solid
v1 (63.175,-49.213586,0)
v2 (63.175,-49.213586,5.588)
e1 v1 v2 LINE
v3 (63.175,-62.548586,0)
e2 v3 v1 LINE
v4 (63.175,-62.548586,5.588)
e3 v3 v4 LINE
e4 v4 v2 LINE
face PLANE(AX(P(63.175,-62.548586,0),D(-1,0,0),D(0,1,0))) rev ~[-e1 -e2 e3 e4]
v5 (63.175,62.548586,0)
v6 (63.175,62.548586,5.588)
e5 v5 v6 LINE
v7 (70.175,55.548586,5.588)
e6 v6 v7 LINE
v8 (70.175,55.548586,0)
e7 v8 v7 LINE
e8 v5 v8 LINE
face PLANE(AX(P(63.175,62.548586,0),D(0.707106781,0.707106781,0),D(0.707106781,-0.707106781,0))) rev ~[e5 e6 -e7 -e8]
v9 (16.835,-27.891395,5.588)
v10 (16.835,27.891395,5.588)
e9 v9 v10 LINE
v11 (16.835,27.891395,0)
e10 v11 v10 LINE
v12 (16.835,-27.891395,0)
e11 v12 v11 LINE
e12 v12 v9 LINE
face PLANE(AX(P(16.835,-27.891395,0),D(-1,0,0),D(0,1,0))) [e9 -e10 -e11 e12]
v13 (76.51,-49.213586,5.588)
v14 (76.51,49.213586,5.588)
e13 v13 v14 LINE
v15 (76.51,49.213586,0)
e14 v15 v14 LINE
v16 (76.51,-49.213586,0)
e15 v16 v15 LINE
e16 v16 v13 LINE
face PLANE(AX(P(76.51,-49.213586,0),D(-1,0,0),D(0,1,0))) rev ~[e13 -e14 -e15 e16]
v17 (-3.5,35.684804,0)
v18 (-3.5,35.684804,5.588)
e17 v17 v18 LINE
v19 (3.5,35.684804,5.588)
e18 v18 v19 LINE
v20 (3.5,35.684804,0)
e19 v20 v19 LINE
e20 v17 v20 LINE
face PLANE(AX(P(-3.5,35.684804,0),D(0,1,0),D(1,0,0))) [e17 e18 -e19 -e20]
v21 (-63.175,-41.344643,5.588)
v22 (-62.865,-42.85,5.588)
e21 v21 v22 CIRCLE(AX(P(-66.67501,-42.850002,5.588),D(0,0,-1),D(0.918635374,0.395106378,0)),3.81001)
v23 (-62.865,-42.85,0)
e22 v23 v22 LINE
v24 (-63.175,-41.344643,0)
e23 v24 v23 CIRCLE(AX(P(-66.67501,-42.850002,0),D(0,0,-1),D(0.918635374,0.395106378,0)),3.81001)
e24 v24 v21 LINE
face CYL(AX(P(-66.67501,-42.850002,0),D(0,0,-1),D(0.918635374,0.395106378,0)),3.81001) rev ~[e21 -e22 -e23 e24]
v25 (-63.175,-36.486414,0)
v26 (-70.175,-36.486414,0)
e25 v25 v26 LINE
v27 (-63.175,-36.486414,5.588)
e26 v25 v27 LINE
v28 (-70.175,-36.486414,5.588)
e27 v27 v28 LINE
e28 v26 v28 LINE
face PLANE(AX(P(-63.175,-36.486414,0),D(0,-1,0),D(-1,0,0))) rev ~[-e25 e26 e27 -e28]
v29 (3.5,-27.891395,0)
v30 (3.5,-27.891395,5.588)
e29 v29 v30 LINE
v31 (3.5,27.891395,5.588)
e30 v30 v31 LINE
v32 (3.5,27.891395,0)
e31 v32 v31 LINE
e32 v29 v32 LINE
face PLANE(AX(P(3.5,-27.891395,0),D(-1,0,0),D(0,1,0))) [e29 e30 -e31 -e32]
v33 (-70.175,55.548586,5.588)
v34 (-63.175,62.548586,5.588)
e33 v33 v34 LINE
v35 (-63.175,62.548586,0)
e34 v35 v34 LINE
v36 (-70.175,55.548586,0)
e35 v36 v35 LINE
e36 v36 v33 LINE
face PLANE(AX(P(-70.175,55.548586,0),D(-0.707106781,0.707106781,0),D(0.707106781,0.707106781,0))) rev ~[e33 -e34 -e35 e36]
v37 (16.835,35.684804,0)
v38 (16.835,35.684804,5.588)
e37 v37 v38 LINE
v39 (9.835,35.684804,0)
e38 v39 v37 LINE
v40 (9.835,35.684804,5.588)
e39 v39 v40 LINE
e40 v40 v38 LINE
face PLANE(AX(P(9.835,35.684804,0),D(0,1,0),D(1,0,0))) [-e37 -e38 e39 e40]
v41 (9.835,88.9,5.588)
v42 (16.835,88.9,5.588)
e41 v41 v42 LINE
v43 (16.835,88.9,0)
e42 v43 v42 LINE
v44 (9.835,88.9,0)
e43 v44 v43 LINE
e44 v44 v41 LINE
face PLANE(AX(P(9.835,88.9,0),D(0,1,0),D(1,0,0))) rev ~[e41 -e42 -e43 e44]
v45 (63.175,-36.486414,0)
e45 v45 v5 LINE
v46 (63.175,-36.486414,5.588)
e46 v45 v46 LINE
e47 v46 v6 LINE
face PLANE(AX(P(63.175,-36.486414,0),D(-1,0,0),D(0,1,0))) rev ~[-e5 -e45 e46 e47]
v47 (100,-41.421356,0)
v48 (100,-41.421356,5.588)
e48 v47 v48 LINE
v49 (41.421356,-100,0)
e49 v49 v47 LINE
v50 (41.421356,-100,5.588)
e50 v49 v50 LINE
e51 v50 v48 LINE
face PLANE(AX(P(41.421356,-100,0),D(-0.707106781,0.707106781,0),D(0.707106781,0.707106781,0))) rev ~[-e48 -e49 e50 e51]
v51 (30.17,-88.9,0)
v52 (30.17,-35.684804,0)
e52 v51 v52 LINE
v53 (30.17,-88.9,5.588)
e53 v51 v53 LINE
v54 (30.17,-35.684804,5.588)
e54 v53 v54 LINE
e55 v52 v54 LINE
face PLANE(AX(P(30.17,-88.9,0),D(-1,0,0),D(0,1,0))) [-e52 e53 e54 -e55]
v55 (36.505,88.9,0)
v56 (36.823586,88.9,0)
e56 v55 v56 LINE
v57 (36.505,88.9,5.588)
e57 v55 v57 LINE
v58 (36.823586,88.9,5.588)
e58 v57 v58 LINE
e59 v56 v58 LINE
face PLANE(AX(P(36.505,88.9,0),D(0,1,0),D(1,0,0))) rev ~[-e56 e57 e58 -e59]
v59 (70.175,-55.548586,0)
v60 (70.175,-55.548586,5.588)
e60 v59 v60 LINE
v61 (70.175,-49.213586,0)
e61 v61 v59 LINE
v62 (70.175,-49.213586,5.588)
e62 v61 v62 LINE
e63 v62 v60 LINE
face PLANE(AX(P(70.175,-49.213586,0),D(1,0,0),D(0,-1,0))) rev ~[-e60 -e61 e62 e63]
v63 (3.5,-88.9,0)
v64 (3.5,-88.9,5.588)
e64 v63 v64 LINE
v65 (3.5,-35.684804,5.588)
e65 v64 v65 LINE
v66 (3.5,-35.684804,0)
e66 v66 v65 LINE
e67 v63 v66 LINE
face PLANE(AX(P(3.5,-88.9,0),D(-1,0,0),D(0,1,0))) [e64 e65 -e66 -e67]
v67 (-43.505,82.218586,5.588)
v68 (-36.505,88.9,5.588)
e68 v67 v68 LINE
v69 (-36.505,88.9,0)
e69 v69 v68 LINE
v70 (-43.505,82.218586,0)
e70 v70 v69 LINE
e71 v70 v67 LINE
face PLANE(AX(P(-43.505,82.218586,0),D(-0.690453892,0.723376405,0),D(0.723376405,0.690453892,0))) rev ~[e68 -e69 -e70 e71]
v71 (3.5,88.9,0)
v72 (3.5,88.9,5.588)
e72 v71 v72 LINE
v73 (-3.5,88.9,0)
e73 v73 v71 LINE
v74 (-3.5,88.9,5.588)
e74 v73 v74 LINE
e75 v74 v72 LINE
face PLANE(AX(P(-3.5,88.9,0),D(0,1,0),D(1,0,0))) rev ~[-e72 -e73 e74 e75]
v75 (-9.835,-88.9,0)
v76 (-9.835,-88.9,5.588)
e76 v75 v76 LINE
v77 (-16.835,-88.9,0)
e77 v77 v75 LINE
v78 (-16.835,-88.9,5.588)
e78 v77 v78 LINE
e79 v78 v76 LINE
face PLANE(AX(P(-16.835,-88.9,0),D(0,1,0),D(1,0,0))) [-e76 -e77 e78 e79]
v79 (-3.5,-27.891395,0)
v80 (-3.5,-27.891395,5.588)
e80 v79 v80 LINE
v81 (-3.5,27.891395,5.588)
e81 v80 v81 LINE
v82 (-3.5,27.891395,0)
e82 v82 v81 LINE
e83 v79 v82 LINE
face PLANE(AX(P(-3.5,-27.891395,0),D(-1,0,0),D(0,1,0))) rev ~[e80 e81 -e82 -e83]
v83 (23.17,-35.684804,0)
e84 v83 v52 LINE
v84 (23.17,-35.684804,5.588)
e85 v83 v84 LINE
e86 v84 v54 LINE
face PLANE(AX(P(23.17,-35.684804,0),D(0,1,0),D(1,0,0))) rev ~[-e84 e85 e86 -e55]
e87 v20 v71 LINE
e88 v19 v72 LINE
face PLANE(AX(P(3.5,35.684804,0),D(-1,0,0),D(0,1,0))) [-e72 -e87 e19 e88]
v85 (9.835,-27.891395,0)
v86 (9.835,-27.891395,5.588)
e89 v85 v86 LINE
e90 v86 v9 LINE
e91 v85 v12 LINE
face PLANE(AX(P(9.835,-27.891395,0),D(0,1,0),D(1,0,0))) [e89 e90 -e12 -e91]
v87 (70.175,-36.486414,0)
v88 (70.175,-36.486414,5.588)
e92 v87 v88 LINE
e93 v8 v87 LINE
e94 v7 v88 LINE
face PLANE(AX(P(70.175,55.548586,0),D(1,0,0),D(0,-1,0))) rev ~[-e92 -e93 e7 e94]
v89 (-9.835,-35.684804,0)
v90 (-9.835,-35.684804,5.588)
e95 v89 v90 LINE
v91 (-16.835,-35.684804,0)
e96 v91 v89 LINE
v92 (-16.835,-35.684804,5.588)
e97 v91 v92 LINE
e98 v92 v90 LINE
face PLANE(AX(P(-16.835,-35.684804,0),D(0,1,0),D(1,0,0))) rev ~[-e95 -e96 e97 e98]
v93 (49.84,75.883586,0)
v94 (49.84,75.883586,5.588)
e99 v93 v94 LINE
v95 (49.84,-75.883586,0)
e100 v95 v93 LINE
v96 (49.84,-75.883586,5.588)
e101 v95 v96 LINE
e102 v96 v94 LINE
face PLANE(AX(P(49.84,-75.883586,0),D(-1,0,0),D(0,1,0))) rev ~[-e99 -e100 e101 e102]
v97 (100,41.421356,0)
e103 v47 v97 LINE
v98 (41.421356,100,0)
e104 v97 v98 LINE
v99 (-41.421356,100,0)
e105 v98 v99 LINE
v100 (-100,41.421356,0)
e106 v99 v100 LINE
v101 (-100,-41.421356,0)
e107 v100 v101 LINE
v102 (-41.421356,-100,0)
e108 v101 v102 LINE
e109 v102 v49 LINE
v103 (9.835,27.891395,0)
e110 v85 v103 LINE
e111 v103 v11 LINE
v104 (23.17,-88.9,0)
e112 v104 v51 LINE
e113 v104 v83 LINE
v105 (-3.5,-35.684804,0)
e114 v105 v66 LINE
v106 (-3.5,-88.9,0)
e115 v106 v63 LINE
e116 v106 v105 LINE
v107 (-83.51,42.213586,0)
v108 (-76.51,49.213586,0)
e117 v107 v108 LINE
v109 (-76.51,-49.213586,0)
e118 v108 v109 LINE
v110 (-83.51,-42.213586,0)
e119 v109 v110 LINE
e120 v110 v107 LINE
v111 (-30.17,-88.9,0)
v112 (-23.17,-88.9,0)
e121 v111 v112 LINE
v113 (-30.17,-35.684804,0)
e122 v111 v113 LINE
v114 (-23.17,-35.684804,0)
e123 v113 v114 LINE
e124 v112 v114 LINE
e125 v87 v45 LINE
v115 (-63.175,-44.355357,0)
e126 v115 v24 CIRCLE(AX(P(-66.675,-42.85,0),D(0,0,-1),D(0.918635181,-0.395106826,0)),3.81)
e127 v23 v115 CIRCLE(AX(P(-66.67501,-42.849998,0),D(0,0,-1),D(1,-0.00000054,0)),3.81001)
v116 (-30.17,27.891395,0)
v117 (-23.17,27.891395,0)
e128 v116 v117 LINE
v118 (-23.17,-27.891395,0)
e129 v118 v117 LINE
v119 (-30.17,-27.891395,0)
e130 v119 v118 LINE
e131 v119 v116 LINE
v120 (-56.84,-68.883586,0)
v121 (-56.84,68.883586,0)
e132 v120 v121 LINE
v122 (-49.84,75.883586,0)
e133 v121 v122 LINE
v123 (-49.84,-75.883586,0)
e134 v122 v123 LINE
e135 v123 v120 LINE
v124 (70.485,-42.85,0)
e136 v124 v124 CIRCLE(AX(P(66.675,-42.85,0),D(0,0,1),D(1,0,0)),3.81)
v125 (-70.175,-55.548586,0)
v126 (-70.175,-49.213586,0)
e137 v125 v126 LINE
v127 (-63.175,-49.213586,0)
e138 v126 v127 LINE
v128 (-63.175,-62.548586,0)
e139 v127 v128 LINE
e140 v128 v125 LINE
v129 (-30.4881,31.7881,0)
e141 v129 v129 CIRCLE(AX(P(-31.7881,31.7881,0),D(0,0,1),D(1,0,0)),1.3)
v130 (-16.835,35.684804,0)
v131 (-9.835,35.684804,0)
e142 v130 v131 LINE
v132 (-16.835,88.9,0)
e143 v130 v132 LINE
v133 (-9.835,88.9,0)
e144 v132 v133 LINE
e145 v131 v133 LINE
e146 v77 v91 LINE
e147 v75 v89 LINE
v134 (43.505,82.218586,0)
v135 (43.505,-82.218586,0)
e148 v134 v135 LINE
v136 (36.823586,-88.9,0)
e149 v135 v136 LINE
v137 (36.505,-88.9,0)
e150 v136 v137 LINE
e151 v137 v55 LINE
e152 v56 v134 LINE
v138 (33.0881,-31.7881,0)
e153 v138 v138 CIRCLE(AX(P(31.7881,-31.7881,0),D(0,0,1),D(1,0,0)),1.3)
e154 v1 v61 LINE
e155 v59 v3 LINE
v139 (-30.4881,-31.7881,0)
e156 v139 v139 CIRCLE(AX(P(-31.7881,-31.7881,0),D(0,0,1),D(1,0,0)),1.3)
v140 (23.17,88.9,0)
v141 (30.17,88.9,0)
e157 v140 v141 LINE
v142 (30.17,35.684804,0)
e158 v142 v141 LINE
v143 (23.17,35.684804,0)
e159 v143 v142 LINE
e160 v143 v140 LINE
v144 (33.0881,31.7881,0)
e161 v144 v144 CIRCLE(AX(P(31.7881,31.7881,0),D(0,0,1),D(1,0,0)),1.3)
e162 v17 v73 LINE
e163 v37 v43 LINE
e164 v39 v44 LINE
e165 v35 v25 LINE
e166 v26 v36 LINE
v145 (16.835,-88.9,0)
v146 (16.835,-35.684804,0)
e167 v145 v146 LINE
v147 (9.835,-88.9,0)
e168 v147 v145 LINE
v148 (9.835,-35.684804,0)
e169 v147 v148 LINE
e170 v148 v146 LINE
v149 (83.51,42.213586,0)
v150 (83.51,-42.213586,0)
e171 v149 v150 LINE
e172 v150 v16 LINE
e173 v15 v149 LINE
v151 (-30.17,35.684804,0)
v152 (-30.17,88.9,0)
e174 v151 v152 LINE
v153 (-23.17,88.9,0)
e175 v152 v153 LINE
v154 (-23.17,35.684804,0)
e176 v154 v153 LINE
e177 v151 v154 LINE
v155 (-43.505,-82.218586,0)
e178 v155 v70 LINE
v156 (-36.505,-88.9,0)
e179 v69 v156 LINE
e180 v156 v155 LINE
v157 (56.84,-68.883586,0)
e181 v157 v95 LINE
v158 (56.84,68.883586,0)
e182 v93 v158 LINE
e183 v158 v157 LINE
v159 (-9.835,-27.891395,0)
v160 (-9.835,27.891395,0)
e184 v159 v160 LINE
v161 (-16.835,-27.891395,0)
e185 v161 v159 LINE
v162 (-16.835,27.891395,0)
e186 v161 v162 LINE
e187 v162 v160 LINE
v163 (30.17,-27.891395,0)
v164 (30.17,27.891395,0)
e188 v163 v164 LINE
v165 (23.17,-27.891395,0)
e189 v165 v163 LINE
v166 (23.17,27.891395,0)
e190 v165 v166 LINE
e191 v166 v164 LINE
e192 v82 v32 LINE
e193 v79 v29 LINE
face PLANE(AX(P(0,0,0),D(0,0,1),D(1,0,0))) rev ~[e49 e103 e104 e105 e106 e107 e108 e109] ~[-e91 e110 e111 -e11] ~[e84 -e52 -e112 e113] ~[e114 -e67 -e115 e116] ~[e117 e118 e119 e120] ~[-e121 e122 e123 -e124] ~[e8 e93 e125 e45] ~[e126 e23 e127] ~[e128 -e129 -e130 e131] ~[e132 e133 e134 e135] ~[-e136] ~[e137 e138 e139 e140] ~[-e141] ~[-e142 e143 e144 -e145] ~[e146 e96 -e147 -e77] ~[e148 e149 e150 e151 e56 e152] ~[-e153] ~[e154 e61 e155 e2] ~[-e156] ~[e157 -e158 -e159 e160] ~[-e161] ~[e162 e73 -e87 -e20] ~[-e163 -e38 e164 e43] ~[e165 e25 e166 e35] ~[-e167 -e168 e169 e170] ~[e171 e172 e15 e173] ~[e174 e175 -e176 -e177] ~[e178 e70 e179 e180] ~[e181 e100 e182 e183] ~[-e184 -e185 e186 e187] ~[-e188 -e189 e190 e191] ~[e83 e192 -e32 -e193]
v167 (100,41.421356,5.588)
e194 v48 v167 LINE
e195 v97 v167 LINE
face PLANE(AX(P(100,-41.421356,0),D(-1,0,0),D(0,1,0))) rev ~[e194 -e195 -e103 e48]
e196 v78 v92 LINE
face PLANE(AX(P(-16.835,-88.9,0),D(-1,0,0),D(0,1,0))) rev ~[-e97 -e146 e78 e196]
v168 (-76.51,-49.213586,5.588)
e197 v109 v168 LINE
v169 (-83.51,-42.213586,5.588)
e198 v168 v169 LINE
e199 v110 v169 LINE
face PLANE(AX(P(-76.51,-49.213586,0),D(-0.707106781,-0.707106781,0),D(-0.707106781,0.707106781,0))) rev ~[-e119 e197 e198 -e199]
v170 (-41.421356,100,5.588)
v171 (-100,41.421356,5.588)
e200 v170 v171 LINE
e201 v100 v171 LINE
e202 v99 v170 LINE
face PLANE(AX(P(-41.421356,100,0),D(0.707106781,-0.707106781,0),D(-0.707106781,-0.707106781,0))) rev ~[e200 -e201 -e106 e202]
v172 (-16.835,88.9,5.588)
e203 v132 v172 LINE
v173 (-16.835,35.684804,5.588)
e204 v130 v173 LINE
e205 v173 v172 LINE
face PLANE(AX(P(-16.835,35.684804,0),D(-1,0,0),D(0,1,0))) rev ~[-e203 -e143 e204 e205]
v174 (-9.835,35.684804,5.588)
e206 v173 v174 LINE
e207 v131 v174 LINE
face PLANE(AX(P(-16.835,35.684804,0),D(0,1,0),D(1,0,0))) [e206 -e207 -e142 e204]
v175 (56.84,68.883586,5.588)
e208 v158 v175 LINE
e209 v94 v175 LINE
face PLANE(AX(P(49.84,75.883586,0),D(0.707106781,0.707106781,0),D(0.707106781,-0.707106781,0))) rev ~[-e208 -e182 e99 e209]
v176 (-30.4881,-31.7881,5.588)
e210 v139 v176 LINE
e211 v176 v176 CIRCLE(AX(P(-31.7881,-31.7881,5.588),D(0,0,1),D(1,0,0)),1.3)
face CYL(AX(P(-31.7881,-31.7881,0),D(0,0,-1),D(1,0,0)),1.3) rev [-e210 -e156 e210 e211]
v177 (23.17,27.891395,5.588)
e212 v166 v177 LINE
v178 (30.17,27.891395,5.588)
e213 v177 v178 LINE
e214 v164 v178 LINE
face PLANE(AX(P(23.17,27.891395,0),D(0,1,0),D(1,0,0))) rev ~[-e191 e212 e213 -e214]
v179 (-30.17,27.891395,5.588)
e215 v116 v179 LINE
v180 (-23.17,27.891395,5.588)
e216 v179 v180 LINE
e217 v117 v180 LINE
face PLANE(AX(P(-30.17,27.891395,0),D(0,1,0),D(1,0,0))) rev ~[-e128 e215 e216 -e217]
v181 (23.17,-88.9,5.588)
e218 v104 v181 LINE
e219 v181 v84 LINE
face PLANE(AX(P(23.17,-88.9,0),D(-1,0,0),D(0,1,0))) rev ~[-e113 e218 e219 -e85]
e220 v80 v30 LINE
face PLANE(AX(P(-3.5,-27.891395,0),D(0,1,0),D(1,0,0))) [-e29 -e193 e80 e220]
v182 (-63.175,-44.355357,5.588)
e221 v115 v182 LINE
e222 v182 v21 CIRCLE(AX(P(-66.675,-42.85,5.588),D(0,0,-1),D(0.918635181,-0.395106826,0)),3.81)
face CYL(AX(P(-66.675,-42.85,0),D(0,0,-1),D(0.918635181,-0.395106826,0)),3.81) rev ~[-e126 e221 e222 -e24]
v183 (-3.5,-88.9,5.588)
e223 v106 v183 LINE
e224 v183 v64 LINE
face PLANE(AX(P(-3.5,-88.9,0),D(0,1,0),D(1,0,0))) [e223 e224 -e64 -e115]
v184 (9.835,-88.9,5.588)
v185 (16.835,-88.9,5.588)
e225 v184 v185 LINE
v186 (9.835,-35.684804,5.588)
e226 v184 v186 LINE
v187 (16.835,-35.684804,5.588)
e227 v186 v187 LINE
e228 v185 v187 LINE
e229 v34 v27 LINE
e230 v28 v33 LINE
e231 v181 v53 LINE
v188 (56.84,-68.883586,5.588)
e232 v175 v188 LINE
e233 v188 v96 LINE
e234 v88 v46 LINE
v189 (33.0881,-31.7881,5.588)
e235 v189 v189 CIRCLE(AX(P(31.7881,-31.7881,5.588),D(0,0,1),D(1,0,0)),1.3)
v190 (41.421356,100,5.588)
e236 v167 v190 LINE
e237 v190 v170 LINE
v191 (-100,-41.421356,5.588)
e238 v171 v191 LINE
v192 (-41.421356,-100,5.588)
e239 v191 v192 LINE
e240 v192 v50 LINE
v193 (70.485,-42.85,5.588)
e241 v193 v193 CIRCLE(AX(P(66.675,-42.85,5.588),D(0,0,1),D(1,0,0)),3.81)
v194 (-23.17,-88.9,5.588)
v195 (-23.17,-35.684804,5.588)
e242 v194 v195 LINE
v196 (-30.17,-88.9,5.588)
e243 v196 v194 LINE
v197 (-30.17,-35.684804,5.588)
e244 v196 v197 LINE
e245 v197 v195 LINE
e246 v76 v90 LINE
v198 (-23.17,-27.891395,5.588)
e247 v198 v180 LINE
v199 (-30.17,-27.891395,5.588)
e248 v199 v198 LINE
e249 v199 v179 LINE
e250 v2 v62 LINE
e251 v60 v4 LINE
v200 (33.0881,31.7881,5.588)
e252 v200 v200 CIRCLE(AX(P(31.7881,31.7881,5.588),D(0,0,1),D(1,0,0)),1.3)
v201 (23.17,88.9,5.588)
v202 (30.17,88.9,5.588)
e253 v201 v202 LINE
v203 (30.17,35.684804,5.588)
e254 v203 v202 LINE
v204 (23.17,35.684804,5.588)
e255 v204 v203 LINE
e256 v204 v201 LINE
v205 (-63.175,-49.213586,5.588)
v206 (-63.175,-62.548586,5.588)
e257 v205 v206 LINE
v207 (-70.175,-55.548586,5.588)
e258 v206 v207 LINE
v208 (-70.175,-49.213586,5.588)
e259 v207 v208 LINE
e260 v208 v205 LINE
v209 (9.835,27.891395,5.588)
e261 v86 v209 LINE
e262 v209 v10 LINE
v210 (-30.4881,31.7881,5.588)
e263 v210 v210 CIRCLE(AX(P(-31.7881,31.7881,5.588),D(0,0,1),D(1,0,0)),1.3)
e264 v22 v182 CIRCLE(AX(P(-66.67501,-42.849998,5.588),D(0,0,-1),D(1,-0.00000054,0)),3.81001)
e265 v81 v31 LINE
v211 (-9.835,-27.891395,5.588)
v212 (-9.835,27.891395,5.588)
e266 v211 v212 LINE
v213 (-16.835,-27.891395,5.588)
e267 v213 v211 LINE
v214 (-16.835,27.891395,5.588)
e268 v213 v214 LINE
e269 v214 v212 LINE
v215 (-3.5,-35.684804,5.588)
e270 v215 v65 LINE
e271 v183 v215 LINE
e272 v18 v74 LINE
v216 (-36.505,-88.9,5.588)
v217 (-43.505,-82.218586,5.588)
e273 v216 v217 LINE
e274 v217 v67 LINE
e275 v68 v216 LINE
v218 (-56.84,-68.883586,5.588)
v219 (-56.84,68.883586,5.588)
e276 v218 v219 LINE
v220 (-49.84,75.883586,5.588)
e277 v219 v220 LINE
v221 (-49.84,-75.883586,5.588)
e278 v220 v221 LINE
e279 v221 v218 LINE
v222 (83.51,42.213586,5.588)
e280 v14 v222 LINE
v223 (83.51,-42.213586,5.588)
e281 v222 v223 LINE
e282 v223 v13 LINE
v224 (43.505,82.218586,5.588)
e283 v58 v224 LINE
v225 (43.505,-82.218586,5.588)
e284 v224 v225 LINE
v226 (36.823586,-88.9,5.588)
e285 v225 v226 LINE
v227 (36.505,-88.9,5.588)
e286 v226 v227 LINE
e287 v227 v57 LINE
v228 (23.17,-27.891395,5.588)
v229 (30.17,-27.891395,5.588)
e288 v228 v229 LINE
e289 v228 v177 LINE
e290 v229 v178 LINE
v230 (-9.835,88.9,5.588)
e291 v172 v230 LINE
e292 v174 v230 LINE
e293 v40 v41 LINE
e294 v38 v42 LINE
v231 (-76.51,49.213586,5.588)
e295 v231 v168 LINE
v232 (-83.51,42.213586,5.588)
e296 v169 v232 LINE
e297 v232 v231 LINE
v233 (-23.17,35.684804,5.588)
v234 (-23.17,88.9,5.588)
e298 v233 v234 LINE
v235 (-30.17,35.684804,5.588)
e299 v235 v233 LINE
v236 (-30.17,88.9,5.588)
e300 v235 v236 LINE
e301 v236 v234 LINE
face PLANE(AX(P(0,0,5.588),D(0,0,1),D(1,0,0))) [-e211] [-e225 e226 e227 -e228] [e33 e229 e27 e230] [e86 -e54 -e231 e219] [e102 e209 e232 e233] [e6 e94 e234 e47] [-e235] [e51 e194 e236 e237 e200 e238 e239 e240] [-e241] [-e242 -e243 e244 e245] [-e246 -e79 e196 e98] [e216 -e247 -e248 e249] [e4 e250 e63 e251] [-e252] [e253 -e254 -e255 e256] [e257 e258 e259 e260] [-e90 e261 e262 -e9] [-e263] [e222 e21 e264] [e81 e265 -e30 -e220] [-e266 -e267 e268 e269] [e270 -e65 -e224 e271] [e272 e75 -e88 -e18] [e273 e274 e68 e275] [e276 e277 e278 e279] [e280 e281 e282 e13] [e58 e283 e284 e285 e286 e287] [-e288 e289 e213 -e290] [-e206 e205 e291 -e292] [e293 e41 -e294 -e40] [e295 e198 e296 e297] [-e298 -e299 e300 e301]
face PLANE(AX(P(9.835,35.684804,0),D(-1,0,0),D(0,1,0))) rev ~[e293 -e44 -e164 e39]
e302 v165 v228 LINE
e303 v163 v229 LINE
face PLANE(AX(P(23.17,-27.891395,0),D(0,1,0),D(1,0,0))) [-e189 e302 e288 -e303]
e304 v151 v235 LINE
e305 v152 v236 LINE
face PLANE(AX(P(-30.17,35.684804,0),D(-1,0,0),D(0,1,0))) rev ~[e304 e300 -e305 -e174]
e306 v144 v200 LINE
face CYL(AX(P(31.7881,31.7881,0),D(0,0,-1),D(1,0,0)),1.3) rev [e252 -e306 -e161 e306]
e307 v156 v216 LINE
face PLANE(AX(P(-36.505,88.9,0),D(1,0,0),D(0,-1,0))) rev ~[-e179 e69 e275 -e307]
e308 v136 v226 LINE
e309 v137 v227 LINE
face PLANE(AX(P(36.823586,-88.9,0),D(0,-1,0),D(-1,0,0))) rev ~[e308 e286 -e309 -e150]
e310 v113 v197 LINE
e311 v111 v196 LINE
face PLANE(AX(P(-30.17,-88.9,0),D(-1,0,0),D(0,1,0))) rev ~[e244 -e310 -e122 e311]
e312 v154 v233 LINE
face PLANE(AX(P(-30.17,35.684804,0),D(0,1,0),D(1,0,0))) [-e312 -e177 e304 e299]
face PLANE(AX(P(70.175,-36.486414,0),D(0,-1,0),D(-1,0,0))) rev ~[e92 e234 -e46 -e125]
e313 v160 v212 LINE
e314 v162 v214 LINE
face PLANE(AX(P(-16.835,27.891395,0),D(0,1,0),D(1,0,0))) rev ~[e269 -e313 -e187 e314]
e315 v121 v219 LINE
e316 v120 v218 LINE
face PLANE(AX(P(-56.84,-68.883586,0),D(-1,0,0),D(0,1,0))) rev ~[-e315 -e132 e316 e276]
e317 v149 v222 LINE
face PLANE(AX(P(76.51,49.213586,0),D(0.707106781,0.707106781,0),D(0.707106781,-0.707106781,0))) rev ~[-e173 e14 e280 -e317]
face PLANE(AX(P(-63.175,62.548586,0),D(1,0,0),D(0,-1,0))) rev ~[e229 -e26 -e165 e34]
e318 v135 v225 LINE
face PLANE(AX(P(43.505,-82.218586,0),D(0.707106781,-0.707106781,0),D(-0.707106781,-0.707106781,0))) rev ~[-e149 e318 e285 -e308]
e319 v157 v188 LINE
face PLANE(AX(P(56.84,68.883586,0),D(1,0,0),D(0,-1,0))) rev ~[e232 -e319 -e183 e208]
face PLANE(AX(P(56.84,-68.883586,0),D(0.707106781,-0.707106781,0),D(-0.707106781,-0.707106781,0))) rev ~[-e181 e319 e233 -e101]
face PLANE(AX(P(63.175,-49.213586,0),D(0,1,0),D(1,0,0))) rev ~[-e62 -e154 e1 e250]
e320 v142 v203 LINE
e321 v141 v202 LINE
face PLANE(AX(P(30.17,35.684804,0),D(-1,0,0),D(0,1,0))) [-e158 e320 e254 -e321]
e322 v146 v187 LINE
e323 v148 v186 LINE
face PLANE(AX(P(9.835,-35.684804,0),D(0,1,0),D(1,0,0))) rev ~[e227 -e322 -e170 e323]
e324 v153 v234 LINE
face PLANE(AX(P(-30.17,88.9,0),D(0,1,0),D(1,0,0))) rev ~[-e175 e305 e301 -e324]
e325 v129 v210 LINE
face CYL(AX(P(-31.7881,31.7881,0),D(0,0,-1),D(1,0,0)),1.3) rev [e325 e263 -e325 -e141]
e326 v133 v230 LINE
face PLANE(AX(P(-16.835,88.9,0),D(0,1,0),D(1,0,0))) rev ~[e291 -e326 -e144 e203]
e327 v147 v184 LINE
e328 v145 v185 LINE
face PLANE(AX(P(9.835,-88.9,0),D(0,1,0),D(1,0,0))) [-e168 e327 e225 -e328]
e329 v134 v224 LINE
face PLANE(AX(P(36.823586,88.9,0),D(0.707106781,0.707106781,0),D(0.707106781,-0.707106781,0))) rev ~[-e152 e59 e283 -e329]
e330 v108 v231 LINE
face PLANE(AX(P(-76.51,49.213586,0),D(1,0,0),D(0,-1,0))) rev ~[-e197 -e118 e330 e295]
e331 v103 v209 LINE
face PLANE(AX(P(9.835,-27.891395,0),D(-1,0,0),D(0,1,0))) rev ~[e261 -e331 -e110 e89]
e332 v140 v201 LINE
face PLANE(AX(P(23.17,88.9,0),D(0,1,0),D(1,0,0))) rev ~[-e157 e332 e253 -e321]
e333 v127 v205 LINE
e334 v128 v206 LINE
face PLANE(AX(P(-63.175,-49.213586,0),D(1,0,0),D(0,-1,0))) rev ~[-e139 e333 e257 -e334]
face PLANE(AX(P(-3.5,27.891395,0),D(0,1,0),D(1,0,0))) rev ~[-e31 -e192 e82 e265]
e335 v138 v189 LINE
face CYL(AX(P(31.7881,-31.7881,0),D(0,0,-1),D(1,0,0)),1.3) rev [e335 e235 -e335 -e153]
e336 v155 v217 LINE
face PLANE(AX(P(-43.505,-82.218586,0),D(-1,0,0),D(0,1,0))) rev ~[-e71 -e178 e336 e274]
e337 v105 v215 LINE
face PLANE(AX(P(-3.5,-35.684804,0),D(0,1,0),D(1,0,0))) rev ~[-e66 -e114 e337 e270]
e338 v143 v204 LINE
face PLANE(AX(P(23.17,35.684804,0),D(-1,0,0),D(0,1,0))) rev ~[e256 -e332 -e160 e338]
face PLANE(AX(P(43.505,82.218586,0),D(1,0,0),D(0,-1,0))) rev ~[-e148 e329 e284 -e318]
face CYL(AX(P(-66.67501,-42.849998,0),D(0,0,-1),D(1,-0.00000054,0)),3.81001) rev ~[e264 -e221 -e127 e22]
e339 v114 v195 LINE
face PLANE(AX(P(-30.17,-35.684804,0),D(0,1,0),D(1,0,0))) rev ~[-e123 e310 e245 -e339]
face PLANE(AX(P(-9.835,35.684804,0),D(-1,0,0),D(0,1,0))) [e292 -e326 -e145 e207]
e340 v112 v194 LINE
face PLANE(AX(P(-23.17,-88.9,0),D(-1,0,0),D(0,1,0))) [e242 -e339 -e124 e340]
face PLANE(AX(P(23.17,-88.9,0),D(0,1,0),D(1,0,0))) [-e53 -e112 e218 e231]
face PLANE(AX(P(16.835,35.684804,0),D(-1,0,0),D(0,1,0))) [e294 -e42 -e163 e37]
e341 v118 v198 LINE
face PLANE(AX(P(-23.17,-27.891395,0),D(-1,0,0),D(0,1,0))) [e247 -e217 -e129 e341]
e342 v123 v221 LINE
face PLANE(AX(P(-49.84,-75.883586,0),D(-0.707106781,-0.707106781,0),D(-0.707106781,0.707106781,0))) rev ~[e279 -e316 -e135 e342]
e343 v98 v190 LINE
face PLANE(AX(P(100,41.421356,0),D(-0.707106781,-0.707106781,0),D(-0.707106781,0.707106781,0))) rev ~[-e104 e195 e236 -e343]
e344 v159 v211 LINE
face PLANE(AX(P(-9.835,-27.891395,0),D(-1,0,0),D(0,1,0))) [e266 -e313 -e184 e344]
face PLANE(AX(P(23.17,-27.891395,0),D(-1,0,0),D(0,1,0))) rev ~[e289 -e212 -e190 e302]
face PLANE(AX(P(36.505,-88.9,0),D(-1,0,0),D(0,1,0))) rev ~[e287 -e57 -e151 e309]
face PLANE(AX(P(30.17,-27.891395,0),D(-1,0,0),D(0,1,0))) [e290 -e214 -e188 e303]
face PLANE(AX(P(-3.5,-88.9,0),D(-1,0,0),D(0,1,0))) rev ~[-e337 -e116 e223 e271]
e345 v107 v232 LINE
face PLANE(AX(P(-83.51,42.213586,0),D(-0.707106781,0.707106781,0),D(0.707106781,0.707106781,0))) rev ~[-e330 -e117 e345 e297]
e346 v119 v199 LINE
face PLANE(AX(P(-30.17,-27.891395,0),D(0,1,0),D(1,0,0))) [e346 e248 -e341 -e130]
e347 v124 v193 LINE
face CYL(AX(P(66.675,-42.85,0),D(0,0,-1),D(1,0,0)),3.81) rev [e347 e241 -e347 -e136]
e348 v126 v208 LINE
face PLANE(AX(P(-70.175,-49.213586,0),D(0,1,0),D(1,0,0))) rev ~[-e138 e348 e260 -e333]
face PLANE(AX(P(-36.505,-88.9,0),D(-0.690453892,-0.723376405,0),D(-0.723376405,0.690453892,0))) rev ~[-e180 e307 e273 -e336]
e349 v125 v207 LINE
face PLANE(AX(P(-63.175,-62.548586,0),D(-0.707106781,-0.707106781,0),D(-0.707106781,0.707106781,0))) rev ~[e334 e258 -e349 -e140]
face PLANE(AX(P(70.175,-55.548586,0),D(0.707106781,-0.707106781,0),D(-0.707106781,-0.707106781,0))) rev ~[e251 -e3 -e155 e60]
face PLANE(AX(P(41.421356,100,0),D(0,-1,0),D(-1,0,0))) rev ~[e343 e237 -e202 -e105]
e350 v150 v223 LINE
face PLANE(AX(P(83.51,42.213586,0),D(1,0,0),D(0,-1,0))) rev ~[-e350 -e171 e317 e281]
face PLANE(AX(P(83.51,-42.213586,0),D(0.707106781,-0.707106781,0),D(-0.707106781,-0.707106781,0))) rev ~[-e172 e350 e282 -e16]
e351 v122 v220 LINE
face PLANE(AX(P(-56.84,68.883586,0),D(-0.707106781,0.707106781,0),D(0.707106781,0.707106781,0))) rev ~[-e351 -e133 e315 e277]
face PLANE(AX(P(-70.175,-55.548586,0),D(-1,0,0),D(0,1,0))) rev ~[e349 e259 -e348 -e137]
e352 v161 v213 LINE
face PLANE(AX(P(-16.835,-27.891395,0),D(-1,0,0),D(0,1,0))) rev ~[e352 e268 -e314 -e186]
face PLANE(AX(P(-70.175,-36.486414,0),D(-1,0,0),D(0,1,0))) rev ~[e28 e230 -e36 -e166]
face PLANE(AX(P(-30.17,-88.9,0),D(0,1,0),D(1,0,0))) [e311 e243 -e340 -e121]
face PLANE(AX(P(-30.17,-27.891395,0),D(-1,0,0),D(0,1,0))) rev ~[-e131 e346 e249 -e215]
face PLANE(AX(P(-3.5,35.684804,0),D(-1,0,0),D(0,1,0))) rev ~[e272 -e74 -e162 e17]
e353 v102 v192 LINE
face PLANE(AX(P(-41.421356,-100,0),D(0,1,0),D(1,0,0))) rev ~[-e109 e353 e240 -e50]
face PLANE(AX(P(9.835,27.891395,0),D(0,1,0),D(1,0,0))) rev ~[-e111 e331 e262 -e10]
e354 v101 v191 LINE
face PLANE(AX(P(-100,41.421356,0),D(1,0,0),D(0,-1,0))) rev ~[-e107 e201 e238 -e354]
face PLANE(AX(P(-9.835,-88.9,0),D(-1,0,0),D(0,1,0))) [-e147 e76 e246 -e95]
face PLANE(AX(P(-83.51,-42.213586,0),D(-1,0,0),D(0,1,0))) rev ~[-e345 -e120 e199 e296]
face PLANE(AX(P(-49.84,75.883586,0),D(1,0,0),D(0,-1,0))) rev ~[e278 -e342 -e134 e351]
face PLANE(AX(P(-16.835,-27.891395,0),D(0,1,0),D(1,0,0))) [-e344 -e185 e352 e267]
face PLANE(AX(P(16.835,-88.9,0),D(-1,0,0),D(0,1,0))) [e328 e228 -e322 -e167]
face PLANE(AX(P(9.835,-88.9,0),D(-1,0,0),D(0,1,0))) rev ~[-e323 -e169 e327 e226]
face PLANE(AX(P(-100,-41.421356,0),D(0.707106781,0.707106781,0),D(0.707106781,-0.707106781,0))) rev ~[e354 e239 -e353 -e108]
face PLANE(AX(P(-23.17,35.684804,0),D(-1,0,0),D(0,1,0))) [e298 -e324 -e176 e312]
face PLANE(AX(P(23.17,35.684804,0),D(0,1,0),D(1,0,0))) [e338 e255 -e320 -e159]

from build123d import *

# Parameters (mm, degrees)
F0_W     = 7
F0_H     = 53.215195
F0_R     = 1.3
F0_R_2   = 3.81
F0_H_2   = 55.78279
F1_DEPTH = 5.588


with BuildPart() as f1:
    # F0 (on Top) → F1 (new body)
    with BuildSketch(Plane.XY):
        Polygon((41.421356, 100), (-41.421356, 100), (-100, 41.421356), (-100, -41.421356), (-41.421356, -100), (41.421356, -100), (100, -41.421356), (100, 41.421356), align=None)
        Polygon((-63.175, -49.213586), (-63.175, -62.548586), (-70.175, -55.548586), (-70.175, -49.213586), align=None, mode=Mode.SUBTRACT)
        with Locations((-26.67, -62.292402)):
            Rectangle(F0_W, F0_H, mode=Mode.SUBTRACT)
        with Locations((-13.335, -62.292402)):
            Rectangle(F0_W, F0_H, mode=Mode.SUBTRACT)
        with BuildLine():
            ThreePointArc((-63.175, -41.344643), (-62.943305, -42.081527), (-62.865, -42.85))
            ThreePointArc((-62.865, -42.85), (-62.943305, -43.618473), (-63.175, -44.355357))
            ThreePointArc((-63.175, -44.355357), (-70.485, -42.85), (-63.175, -41.344643))
        make_face(mode=Mode.SUBTRACT)
        with Locations((-31.7881, -31.7881)):
            Circle(F0_R, mode=Mode.SUBTRACT)
        with Locations((0, -62.292402)):
            Rectangle(F0_W, F0_H, mode=Mode.SUBTRACT)
        with Locations((13.335, -62.292402)):
            Rectangle(F0_W, F0_H, mode=Mode.SUBTRACT)
        with Locations((26.67, -62.292402)):
            Rectangle(F0_W, F0_H, mode=Mode.SUBTRACT)
        Polygon((70.175, -55.548586), (63.175, -62.548586), (63.175, -49.213586), (70.175, -49.213586), align=None, mode=Mode.SUBTRACT)
        with Locations((31.7881, -31.7881)):
            Circle(F0_R, mode=Mode.SUBTRACT)
        with Locations((66.675, -42.85)):
            Circle(F0_R_2, mode=Mode.SUBTRACT)
        Polygon((49.84, -75.883586), (49.84, 75.883586), (56.84, 68.883586), (56.84, -36.486414), (56.84, -49.213586), (56.84, -68.883586), align=None, mode=Mode.SUBTRACT)
        Polygon((76.51, 49.213586), (83.51, 42.213586), (83.51, -42.213586), (76.51, -49.213586), (76.51, -36.486414), align=None, mode=Mode.SUBTRACT)
        Polygon((-83.51, -42.213586), (-83.51, 42.213586), (-76.51, 49.213586), (-76.51, -36.486414), (-76.51, -49.213586), align=None, mode=Mode.SUBTRACT)
        Polygon((-56.84, -36.486414), (-56.84, 68.883586), (-49.84, 75.883586), (-49.84, -75.883586), (-56.84, -68.883586), (-56.84, -49.213586), align=None, mode=Mode.SUBTRACT)
        Polygon((-70.175, -36.486414), (-70.175, 55.548586), (-63.175, 62.548586), (-63.175, -36.486414), align=None, mode=Mode.SUBTRACT)
        Polygon((-43.505, 82.218586), (-36.505, 88.9), (-36.505, 35.684805), (-36.505, 27.891395), (-36.505, -27.891395), (-36.505, -35.684805), (-36.505, -88.9), (-43.505, -82.218586), align=None, mode=Mode.SUBTRACT)
        with Locations((-26.67, 0)):
            Rectangle(F0_W, F0_H_2, mode=Mode.SUBTRACT)
        with Locations((-13.335, 0)):
            Rectangle(F0_W, F0_H_2, mode=Mode.SUBTRACT)
        with Locations((-31.7881, 31.7881)):
            Circle(F0_R, mode=Mode.SUBTRACT)
        with Locations((-26.67, 62.292402)):
            Rectangle(F0_W, F0_H, mode=Mode.SUBTRACT)
        with Locations((-13.335, 62.292402)):
            Rectangle(F0_W, F0_H, mode=Mode.SUBTRACT)
        Rectangle(F0_W, F0_H_2, mode=Mode.SUBTRACT)
        with Locations((13.335, 0)):
            Rectangle(F0_W, F0_H_2, mode=Mode.SUBTRACT)
        with Locations((26.67, 0)):
            Rectangle(F0_W, F0_H_2, mode=Mode.SUBTRACT)
        Polygon((36.505, 35.684805), (36.505, 88.9), (36.823586, 88.9), (43.505, 82.218586), (43.505, -82.218586), (36.823586, -88.9), (36.505, -88.9), (36.505, -35.684805), (36.505, -27.891395), (36.505, 27.891395), align=None, mode=Mode.SUBTRACT)
        with Locations((31.7881, 31.7881)):
            Circle(F0_R, mode=Mode.SUBTRACT)
        Polygon((63.175, -36.486414), (63.175, 62.548586), (70.175, 55.548586), (70.175, -36.486414), align=None, mode=Mode.SUBTRACT)
        with Locations((0, 62.292402)):
            Rectangle(F0_W, F0_H, mode=Mode.SUBTRACT)
        with Locations((13.335, 62.292402)):
            Rectangle(F0_W, F0_H, mode=Mode.SUBTRACT)
        with Locations((26.67, 62.292402)):
            Rectangle(F0_W, F0_H, mode=Mode.SUBTRACT)
    extrude(amount=F1_DEPTH)


solid = f1.part
